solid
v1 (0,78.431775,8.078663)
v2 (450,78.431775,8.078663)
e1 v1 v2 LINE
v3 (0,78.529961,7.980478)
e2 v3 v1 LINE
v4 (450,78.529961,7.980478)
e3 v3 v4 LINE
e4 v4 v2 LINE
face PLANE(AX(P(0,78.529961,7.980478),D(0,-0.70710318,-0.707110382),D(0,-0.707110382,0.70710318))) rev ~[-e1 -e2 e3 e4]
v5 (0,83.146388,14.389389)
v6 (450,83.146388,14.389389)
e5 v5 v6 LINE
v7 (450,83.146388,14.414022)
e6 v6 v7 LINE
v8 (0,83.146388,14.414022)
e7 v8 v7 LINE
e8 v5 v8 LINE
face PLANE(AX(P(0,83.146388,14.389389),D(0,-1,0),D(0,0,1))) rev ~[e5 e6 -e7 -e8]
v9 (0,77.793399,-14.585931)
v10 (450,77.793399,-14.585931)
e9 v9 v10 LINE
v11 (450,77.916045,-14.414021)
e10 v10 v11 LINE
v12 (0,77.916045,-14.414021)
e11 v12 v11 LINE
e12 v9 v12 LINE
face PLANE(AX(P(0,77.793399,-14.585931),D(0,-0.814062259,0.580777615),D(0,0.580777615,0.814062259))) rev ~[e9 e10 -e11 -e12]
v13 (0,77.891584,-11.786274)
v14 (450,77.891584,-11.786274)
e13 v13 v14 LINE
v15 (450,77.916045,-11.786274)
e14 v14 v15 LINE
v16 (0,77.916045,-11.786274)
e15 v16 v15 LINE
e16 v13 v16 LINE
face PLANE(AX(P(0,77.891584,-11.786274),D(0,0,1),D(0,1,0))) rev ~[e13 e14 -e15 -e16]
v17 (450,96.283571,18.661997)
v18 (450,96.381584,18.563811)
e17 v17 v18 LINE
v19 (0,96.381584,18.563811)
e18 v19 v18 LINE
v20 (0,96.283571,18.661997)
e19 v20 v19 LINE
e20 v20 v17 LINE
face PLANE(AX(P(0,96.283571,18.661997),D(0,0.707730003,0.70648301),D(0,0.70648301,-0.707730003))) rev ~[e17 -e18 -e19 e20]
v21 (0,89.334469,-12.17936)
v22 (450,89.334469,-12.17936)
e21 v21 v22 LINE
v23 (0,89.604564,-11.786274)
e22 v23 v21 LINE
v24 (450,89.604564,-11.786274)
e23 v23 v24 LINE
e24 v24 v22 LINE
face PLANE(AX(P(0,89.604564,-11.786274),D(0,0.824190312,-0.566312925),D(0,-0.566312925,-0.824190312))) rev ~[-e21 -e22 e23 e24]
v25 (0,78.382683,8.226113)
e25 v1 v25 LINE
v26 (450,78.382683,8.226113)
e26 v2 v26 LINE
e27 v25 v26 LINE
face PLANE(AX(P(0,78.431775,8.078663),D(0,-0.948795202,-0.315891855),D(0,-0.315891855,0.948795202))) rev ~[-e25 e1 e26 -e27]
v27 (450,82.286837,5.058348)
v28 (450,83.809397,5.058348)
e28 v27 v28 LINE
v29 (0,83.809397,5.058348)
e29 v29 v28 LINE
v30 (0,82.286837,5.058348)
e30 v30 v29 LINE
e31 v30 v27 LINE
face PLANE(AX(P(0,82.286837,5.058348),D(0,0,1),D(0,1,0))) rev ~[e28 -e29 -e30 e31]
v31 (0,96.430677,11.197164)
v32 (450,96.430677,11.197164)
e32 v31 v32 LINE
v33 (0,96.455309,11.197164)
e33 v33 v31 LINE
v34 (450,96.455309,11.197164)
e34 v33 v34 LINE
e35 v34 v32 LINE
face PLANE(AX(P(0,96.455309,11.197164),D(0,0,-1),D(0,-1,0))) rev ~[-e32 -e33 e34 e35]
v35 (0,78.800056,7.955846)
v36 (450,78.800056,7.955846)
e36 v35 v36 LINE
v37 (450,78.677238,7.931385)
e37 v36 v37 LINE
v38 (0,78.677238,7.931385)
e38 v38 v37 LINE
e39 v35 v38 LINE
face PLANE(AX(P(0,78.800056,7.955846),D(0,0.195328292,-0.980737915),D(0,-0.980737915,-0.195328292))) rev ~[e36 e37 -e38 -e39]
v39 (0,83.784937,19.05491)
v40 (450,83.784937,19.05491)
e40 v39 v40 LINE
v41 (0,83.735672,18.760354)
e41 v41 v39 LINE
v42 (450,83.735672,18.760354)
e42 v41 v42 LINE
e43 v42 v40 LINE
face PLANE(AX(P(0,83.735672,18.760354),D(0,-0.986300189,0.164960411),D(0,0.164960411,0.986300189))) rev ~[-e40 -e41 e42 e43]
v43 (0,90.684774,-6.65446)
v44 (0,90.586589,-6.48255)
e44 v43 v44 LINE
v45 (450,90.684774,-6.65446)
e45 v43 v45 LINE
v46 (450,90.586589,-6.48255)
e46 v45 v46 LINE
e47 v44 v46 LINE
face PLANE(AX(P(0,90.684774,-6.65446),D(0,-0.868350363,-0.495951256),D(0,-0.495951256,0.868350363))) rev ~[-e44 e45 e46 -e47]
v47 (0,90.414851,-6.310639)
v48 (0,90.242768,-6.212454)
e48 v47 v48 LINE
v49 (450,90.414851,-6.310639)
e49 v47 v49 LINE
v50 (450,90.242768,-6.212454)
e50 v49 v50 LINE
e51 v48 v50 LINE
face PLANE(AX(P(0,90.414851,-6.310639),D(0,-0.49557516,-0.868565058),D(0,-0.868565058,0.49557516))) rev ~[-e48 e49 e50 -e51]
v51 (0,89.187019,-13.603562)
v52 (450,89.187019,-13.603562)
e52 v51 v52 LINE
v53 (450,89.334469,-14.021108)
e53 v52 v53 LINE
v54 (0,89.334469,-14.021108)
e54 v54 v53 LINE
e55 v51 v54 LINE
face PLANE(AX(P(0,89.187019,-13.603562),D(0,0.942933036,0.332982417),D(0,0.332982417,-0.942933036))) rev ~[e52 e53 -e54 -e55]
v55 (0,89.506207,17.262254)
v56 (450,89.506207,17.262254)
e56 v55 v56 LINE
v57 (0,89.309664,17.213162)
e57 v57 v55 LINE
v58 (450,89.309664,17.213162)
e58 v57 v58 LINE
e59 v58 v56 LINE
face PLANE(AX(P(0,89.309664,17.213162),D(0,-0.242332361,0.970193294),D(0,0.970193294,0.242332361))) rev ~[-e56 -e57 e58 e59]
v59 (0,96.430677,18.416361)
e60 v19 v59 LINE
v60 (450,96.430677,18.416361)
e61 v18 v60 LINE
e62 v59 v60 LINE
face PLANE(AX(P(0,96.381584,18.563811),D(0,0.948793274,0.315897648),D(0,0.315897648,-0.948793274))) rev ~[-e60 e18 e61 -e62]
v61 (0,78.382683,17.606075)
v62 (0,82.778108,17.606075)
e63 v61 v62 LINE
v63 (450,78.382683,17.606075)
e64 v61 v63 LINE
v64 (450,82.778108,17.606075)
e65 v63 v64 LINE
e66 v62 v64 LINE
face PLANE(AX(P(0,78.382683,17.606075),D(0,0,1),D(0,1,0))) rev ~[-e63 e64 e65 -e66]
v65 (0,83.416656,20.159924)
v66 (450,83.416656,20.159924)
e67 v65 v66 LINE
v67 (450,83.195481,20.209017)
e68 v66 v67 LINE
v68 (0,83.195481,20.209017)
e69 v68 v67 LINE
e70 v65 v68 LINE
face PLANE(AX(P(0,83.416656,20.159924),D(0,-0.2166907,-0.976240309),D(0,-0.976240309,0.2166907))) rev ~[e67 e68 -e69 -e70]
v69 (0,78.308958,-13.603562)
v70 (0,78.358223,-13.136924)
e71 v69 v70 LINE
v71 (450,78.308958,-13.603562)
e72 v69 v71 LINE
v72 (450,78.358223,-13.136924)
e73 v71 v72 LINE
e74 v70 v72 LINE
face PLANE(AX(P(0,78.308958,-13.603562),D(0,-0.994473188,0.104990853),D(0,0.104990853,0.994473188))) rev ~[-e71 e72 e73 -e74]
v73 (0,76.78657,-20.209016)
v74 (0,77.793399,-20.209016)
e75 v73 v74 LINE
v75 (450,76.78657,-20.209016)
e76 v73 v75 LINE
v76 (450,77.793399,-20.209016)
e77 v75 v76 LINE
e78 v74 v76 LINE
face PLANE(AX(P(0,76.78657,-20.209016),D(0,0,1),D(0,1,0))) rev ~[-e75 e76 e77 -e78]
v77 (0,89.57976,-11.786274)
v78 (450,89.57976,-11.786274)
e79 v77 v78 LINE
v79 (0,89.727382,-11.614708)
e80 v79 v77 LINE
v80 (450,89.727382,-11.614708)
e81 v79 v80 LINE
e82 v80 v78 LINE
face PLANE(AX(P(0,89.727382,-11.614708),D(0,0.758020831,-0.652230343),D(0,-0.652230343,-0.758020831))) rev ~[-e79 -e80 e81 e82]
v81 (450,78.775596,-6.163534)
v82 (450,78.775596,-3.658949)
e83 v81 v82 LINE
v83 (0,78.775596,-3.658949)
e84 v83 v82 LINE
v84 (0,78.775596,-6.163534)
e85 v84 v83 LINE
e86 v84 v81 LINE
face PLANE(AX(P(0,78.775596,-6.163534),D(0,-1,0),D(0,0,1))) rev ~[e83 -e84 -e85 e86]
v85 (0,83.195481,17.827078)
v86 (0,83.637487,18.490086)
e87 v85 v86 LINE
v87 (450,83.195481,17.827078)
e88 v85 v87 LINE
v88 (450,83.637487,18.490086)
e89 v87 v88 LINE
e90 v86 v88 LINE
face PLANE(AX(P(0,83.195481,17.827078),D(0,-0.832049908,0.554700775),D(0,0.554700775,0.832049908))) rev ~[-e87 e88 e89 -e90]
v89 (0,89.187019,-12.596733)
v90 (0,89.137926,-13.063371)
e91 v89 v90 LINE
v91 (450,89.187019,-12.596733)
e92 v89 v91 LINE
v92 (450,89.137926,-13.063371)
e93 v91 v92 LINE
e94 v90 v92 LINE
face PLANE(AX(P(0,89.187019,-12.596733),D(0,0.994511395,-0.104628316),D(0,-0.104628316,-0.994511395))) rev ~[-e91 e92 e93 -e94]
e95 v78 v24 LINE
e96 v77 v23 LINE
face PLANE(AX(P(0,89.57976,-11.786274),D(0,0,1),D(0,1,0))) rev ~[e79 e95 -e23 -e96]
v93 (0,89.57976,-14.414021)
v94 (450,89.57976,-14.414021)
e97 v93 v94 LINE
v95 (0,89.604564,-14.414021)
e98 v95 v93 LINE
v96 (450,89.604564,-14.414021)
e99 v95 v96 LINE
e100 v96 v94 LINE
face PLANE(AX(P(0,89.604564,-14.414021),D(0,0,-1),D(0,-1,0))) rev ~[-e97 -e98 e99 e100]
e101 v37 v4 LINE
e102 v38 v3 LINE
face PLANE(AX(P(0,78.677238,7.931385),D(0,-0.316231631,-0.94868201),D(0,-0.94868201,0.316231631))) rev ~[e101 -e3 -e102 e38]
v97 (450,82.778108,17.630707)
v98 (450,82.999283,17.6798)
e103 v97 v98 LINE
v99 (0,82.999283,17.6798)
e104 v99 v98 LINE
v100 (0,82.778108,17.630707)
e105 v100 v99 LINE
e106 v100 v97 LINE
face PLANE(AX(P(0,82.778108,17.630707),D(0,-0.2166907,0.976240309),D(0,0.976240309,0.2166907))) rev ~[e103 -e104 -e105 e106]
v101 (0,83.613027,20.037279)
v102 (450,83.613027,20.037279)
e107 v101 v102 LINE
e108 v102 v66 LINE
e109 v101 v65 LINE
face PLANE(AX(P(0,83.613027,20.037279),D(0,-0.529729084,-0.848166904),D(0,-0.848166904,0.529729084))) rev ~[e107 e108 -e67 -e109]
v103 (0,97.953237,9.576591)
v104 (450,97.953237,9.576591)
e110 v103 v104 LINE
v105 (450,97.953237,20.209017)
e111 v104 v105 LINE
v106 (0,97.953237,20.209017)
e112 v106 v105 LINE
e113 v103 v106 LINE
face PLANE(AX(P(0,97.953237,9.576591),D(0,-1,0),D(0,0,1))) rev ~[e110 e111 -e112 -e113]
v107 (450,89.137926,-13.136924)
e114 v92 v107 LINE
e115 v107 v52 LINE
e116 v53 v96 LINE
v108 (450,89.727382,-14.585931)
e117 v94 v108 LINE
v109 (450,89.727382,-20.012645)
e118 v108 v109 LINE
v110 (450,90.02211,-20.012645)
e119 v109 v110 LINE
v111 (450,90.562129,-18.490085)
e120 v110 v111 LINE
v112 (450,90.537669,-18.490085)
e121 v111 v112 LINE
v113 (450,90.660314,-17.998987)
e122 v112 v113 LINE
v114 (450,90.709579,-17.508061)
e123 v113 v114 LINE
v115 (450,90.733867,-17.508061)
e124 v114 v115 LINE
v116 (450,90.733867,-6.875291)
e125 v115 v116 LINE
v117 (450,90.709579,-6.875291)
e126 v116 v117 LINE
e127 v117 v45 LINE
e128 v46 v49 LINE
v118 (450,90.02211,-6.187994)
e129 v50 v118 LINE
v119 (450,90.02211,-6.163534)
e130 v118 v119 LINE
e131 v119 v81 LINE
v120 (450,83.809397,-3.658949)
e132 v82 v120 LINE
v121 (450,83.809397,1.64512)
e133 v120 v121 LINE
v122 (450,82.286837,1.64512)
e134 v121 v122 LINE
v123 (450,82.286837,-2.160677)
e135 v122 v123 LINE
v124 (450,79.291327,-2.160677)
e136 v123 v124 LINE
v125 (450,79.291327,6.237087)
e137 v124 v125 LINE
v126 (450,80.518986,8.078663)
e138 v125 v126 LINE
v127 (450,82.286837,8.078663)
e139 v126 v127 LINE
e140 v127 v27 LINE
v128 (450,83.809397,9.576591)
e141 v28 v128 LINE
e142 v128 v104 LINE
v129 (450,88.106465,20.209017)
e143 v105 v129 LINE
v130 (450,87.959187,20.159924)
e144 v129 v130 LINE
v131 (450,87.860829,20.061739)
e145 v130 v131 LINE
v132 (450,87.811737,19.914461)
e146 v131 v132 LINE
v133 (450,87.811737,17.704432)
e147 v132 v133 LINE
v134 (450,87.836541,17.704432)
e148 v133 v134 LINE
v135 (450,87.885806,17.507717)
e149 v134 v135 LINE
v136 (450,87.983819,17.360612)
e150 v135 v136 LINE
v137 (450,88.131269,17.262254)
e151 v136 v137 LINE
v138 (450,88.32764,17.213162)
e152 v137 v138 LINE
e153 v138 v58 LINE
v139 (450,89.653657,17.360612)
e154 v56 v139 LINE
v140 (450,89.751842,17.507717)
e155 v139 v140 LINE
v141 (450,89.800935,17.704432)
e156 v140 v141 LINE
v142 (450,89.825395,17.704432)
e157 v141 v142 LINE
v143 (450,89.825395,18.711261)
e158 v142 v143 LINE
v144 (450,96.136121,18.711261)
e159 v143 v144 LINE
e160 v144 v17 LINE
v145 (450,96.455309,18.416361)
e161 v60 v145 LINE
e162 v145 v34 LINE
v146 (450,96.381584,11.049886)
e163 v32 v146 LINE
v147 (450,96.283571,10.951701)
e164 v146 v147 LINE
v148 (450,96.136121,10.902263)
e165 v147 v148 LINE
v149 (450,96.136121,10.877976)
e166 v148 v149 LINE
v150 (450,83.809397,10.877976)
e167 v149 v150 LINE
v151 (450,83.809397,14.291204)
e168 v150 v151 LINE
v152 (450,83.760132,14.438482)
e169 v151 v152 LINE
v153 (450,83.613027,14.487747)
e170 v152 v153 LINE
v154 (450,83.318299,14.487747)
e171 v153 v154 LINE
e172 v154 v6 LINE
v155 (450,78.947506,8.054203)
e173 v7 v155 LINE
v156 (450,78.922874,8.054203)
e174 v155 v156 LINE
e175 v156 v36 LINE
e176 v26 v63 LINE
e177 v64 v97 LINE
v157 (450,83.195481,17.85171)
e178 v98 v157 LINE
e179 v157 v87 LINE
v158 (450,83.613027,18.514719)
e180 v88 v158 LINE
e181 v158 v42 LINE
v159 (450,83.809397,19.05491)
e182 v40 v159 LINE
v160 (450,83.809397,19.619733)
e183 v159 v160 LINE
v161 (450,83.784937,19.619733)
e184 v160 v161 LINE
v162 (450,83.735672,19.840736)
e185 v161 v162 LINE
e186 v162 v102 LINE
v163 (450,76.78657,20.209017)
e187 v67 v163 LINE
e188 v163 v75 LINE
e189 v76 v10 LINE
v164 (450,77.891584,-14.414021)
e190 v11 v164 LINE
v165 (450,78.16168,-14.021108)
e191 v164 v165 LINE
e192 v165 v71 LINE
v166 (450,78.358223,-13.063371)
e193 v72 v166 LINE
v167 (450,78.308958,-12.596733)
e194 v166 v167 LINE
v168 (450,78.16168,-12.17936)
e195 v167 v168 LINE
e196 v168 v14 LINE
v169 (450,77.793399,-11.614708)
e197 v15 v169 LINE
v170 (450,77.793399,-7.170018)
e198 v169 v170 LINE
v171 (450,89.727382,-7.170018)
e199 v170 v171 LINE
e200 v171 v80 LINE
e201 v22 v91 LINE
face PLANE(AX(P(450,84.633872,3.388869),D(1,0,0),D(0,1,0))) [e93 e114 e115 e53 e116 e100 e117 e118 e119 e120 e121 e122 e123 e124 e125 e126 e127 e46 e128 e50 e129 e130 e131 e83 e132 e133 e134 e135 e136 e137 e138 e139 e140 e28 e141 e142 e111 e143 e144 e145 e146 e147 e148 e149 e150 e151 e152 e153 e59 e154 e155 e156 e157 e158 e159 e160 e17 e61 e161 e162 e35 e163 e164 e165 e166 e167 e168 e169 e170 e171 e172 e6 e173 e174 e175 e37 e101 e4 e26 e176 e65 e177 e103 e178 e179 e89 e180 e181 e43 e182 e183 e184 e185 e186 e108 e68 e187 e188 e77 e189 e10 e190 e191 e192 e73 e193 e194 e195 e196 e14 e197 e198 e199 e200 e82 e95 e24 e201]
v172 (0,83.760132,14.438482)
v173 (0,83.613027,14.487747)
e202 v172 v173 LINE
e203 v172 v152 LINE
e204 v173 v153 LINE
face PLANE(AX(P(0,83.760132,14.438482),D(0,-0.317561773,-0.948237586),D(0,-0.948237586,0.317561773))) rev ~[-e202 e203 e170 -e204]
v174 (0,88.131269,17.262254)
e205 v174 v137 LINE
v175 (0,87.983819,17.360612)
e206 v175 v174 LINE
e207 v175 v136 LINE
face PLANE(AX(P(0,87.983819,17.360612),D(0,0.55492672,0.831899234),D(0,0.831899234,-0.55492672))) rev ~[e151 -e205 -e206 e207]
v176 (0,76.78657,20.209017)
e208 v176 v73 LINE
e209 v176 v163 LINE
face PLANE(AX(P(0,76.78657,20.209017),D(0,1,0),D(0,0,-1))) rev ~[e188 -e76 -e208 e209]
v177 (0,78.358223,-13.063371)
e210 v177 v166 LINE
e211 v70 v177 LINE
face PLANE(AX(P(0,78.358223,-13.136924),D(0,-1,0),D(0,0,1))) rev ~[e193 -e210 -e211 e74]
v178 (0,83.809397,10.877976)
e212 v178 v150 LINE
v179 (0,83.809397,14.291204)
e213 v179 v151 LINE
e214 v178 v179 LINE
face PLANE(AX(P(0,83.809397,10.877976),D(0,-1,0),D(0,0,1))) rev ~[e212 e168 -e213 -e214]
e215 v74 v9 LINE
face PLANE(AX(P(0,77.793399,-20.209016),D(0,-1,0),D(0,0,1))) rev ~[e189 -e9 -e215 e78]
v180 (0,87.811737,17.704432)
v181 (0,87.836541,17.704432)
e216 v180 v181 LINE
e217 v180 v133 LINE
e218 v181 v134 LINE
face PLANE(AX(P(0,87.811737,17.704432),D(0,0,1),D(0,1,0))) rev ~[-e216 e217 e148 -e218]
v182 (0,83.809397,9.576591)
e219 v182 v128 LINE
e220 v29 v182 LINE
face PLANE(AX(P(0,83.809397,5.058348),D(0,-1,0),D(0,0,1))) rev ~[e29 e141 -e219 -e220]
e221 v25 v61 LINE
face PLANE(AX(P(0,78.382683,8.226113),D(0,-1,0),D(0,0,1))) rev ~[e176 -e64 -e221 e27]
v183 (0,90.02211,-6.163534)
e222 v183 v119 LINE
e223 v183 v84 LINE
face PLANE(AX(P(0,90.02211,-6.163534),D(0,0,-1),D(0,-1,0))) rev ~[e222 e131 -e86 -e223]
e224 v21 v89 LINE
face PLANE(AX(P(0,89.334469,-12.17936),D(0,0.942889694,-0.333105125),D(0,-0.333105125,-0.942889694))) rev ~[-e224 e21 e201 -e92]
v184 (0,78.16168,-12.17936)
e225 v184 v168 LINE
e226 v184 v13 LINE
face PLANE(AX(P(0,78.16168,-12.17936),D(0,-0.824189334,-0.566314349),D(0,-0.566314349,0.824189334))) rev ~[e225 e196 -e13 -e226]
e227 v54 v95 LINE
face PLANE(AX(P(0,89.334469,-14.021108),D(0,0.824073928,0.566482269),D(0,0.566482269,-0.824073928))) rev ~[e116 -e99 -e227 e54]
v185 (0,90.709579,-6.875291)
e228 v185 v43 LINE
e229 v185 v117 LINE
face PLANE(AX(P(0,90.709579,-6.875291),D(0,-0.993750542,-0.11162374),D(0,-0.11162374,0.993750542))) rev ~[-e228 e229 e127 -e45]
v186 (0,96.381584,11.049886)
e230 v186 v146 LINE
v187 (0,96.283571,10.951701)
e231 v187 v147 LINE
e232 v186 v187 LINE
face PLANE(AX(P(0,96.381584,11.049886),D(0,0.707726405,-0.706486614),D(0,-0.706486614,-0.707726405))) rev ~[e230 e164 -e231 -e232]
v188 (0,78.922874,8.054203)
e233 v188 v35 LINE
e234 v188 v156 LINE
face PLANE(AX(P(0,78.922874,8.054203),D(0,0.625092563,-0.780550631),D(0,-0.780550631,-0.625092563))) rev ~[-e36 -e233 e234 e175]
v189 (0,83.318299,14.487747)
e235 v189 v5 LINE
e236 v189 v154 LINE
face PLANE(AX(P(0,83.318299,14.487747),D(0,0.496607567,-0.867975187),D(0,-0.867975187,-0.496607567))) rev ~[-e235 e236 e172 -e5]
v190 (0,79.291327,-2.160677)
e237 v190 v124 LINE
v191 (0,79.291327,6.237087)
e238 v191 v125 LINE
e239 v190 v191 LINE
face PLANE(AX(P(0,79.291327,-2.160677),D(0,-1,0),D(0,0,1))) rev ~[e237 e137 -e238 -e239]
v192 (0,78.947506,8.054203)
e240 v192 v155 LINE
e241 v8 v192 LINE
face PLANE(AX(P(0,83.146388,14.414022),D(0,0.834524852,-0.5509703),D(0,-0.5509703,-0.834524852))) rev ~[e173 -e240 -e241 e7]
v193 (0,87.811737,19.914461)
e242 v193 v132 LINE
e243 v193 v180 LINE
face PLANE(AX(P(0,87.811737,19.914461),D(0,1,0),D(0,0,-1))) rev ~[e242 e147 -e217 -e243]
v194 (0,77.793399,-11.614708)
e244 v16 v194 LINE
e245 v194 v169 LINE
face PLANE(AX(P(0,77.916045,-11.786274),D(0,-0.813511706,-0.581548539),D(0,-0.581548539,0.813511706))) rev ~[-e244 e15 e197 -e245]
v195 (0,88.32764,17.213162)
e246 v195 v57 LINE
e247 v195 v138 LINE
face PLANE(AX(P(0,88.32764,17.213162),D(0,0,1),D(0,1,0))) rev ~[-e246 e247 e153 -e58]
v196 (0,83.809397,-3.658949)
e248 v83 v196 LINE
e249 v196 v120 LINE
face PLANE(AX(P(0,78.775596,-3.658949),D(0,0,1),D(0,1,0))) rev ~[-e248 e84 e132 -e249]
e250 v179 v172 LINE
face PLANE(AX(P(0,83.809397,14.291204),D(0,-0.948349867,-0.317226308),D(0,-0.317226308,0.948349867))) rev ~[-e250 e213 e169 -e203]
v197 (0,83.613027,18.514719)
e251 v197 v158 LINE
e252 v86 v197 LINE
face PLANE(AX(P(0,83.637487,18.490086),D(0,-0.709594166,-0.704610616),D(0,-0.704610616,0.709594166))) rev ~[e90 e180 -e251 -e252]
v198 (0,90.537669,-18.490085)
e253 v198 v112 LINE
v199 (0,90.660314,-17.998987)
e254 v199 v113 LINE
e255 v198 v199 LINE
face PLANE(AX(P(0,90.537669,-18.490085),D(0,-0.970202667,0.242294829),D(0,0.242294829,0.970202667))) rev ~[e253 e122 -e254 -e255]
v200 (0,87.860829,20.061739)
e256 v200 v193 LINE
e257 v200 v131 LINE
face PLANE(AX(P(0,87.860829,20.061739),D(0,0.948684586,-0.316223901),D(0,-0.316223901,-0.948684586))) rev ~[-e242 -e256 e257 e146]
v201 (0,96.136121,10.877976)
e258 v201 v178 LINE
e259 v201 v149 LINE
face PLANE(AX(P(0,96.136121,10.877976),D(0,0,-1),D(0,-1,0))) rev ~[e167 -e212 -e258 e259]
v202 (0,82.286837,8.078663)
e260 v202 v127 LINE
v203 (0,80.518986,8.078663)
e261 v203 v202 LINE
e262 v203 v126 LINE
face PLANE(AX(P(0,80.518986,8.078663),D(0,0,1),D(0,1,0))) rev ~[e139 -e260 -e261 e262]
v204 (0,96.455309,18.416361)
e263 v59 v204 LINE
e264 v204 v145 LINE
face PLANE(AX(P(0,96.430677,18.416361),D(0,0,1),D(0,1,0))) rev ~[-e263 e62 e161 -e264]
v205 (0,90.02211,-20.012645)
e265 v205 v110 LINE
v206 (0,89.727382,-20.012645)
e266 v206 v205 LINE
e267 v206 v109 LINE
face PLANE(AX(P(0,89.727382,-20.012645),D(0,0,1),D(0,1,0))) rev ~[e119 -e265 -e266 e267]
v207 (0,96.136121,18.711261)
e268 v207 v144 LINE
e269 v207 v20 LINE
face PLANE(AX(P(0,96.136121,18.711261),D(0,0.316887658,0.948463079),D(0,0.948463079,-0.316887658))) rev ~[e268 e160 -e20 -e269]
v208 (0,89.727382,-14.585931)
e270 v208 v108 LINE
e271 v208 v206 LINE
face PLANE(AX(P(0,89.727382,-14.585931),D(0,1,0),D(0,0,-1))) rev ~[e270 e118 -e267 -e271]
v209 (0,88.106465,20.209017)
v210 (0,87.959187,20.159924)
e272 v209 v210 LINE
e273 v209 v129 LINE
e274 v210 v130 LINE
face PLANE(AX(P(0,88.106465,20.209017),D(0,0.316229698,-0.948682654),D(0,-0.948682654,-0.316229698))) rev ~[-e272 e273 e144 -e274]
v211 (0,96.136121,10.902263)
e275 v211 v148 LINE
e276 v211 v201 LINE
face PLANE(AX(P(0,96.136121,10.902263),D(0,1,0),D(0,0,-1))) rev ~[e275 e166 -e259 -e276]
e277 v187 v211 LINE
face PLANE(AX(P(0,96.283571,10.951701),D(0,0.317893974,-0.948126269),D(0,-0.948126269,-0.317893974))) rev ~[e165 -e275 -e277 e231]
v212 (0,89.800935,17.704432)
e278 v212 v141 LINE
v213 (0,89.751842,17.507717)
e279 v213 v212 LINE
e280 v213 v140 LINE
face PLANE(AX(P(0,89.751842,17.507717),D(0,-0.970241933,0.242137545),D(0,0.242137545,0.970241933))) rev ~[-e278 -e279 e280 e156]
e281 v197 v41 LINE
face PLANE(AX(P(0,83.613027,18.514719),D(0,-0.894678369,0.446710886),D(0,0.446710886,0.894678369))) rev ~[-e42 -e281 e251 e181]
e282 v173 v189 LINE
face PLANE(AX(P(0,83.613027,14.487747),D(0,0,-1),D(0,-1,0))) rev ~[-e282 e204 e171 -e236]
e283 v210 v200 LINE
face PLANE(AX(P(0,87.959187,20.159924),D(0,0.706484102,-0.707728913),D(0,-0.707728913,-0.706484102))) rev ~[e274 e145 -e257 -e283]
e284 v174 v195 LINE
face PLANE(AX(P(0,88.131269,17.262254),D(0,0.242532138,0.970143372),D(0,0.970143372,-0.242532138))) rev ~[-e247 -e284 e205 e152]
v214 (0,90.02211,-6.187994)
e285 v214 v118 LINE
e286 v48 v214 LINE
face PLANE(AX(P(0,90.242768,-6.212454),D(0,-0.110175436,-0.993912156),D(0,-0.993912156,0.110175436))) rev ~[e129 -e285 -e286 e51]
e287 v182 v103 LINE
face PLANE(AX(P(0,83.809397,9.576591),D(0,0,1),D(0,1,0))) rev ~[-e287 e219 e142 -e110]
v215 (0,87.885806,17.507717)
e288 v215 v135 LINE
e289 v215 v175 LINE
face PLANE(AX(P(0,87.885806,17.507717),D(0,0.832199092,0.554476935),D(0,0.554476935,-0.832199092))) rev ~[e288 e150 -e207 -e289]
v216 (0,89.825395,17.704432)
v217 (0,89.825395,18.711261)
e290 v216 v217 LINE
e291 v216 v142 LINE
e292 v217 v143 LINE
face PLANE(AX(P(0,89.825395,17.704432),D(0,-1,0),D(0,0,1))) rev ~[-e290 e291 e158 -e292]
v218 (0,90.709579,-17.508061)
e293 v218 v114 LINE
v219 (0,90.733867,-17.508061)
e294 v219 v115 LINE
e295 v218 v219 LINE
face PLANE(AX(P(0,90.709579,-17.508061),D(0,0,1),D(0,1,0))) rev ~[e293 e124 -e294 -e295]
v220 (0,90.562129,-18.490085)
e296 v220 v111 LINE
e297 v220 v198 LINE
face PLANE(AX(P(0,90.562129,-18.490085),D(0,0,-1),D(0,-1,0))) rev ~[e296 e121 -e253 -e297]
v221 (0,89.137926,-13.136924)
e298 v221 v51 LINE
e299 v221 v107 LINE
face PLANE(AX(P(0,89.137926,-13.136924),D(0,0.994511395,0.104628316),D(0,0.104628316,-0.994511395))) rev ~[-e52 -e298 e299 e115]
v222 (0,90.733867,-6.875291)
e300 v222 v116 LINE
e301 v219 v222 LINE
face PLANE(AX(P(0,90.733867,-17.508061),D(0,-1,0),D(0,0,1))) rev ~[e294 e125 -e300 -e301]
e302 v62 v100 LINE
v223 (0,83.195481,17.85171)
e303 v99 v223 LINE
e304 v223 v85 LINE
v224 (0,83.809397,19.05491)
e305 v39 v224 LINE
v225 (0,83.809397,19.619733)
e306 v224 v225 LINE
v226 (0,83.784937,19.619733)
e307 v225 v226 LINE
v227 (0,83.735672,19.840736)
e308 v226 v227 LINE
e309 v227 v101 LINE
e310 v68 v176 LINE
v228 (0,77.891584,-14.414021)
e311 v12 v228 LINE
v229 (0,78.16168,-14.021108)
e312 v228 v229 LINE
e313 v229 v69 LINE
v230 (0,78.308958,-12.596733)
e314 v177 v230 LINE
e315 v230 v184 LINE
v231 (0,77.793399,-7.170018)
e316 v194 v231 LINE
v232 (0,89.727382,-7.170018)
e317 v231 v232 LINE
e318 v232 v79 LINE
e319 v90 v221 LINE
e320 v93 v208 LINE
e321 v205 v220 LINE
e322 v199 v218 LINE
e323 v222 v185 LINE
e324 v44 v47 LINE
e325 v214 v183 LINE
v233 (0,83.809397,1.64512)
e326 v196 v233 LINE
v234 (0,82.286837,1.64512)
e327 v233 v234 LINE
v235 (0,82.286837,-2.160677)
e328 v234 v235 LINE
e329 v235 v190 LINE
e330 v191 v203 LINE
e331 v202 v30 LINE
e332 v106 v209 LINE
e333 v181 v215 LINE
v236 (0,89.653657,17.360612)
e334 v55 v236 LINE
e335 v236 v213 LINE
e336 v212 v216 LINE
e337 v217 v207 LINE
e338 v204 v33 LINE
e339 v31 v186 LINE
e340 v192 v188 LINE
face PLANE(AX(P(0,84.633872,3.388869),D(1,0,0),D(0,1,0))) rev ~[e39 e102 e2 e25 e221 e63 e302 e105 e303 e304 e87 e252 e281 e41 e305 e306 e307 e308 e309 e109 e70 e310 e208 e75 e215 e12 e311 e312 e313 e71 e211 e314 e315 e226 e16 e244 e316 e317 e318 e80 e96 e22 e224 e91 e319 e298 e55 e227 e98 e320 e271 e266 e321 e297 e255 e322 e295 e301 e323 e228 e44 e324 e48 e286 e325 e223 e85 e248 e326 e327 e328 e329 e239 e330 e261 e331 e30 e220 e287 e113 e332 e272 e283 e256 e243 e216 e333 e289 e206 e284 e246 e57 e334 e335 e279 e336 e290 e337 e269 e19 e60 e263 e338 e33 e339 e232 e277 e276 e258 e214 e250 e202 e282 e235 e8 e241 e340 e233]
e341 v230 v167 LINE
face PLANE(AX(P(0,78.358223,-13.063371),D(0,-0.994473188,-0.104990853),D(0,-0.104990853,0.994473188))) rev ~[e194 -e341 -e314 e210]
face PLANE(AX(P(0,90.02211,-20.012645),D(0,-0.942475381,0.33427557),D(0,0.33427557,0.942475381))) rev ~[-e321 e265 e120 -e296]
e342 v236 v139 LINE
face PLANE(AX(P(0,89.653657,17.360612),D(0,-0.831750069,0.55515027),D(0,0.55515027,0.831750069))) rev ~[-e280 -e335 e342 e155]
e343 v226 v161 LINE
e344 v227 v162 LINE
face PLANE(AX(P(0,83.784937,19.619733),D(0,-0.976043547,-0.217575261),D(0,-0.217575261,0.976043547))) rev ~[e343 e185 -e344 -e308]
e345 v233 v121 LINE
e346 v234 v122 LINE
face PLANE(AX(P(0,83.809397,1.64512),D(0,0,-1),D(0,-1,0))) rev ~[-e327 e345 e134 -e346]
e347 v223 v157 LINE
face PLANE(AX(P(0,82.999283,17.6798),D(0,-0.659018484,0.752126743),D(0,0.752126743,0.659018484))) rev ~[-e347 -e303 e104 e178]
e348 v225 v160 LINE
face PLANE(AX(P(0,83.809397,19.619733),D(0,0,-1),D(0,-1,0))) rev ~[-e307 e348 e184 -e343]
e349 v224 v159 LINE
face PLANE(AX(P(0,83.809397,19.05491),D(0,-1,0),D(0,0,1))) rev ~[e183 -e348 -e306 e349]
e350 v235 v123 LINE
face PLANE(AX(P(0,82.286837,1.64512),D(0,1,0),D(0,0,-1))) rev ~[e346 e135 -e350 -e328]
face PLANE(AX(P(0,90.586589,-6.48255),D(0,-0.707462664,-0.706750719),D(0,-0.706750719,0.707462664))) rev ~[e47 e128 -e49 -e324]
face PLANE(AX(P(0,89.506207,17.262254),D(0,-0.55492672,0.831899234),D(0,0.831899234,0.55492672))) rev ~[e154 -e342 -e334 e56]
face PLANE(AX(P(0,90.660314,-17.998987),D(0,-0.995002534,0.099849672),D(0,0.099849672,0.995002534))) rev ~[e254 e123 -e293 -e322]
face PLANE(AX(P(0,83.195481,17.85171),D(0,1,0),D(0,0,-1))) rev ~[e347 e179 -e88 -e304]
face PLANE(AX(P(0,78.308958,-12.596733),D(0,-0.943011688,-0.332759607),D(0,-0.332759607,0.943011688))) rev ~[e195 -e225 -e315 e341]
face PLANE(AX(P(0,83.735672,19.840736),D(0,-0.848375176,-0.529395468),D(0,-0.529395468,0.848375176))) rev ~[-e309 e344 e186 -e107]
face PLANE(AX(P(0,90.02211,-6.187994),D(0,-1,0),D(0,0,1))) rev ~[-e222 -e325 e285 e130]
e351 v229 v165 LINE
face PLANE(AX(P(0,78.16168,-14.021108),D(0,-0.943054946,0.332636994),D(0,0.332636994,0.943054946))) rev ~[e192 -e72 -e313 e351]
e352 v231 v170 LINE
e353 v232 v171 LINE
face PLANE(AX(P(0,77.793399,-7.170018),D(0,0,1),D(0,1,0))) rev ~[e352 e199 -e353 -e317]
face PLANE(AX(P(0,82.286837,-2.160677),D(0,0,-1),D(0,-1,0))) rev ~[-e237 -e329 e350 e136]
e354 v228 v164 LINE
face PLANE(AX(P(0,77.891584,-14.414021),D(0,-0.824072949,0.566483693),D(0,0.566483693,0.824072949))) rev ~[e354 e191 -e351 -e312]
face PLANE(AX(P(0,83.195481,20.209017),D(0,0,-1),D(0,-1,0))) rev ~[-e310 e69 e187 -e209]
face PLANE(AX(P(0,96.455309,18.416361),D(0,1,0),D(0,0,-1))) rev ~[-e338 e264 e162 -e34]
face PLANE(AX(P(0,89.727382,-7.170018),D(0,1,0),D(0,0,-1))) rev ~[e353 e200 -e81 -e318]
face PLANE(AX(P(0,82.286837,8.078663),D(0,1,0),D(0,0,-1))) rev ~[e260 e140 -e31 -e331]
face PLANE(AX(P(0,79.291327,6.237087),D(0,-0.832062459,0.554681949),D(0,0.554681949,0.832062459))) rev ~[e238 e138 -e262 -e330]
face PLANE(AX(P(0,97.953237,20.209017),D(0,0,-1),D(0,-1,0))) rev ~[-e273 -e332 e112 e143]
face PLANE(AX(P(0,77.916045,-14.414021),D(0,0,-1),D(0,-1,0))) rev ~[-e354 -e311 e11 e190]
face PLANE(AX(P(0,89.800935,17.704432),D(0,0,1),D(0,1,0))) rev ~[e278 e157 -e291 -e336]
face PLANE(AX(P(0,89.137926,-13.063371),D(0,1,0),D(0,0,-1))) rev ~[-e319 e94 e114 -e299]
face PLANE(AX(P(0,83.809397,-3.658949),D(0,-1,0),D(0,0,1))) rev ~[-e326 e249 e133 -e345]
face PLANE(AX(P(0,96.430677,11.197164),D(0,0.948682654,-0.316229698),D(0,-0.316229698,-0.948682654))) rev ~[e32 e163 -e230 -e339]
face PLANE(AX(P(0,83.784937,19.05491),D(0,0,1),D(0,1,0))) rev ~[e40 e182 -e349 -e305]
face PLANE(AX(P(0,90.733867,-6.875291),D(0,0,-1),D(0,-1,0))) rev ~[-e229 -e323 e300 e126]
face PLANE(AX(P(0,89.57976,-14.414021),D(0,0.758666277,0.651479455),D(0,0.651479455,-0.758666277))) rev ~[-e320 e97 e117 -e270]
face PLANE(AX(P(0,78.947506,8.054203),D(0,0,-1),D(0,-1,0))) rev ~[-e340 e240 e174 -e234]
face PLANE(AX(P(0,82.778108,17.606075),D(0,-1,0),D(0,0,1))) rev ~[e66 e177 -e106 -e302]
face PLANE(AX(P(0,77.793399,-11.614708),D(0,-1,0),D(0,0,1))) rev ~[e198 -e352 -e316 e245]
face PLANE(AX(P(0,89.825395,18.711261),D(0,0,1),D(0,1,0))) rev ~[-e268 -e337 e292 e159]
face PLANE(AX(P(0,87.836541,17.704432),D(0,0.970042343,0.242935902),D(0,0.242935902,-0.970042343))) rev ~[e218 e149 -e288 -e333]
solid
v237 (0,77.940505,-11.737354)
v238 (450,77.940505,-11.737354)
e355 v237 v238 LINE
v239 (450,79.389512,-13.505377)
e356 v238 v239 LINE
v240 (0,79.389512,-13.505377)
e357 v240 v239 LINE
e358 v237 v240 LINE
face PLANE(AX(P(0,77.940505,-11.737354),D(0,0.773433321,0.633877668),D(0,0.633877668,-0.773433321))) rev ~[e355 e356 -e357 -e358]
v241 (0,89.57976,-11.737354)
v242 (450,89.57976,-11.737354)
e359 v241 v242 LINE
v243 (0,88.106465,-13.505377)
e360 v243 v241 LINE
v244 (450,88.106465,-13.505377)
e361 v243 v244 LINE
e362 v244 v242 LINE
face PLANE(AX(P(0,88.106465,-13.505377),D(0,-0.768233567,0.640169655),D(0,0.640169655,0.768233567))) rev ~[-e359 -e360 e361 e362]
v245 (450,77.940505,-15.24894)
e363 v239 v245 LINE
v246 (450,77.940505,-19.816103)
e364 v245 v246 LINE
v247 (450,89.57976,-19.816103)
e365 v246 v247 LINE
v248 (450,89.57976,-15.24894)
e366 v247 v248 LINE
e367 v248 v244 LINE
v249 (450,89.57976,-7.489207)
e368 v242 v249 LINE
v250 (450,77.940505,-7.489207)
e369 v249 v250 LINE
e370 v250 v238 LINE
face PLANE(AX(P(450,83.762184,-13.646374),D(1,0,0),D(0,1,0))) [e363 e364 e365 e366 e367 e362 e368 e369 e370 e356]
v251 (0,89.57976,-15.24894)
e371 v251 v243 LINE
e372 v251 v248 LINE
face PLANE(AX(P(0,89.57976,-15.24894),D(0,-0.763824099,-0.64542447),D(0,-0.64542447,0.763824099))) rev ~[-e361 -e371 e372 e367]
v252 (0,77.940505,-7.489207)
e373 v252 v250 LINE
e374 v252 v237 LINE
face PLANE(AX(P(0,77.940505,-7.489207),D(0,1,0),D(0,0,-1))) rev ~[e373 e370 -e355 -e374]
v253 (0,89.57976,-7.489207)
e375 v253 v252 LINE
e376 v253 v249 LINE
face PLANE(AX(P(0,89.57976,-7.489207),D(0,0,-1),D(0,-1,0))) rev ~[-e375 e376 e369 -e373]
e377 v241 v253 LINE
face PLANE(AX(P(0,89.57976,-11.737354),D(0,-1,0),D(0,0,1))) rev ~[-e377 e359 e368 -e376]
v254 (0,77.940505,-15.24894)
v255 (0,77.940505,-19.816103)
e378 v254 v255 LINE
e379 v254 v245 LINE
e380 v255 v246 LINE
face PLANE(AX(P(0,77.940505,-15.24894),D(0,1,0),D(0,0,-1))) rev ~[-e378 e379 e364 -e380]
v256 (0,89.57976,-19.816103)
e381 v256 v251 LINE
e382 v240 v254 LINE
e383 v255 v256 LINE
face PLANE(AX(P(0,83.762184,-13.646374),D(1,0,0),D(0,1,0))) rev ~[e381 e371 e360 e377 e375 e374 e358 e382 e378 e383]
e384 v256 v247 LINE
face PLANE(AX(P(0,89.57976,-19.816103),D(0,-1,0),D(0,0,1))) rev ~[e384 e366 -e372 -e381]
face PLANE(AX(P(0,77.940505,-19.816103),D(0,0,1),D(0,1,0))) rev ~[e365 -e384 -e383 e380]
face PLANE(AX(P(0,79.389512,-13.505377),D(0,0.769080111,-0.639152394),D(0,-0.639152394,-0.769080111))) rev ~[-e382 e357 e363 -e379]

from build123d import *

# Parameters (mm, degrees)
F1_DEPTH = 450


with BuildPart() as f1:
    # F0 (on Right) → F1 (new body)
    with BuildSketch(Plane.YZ):
        Polygon((97.953237, 9.576591), (97.953237, 20.209017), (88.106465, 20.209017), (87.959187, 20.159924), (87.860829, 20.061739), (87.811737, 19.914461), (87.811737, 17.704432), (87.836541, 17.704432), (87.885806, 17.507717), (87.983819, 17.360612), (88.131269, 17.262254), (88.32764, 17.213162), (89.309664, 17.213162), (89.506207, 17.262254), (89.653657, 17.360612), (89.751842, 17.507717), (89.800935, 17.704432), (89.825395, 17.704432), (89.825395, 18.711261), (96.136121, 18.711261), (96.283571, 18.661997), (96.381584, 18.563811), (96.430677, 18.416361), (96.455309, 18.416361), (96.455309, 11.197164), (96.430677, 11.197164), (96.381584, 11.049886), (96.283571, 10.951701), (96.136121, 10.902263), (96.136121, 10.877976), (83.809397, 10.877976), (83.809397, 14.291204), (83.760132, 14.438482), (83.613027, 14.487747), (83.318299, 14.487747), (83.146388, 14.389389), (83.146388, 14.414022), (78.947506, 8.054203), (78.922874, 8.054203), (78.800056, 7.955846), (78.677238, 7.931385), (78.529961, 7.980478), (78.431775, 8.078663), (78.382683, 8.226113), (78.382683, 17.606075), (82.778108, 17.606075), (82.778108, 17.630707), (82.999283, 17.6798), (83.195481, 17.85171), (83.195481, 17.827078), (83.637487, 18.490086), (83.613027, 18.514719), (83.735672, 18.760354), (83.784937, 19.05491), (83.809397, 19.05491), (83.809397, 19.619733), (83.784937, 19.619733), (83.735672, 19.840736), (83.613027, 20.037279), (83.416656, 20.159924), (83.195481, 20.209017), (76.78657, 20.209017), (76.78657, -20.209016), (77.793399, -20.209016), (77.793399, -14.585931), (77.916045, -14.414021), (77.891584, -14.414021), (78.16168, -14.021108), (78.308958, -13.603562), (78.358223, -13.136924), (78.358223, -13.063371), (78.308958, -12.596733), (78.16168, -12.17936), (77.891584, -11.786274), (77.916045, -11.786274), (77.793399, -11.614708), (77.793399, -7.170018), (89.727382, -7.170018), (89.727382, -11.614708), (89.57976, -11.786274), (89.604564, -11.786274), (89.334469, -12.17936), (89.187019, -12.596733), (89.137926, -13.063371), (89.137926, -13.136924), (89.187019, -13.603562), (89.334469, -14.021108), (89.604564, -14.414021), (89.57976, -14.414021), (89.727382, -14.585931), (89.727382, -20.012645), (90.02211, -20.012645), (90.562129, -18.490085), (90.537669, -18.490085), (90.660314, -17.998987), (90.709579, -17.508061), (90.733867, -17.508061), (90.733867, -6.875291), (90.709579, -6.875291), (90.684774, -6.65446), (90.586589, -6.48255), (90.414851, -6.310639), (90.242768, -6.212454), (90.02211, -6.187994), (90.02211, -6.163534), (78.775596, -6.163534), (78.775596, -3.658949), (83.809397, -3.658949), (83.809397, 1.64512), (82.286837, 1.64512), (82.286837, -2.160677), (79.291327, -2.160677), (79.291327, 6.237087), (80.518986, 8.078663), (81.402912, 8.078663), (82.286837, 8.078663), (82.286837, 5.058348), (83.809397, 5.058348), (83.809397, 9.576591), align=None)
        Polygon((77.940505, -7.489207), (77.940505, -11.737354), (79.389512, -13.505377), (77.940505, -15.24894), (77.940505, -19.816103), (89.57976, -19.816103), (89.57976, -15.24894), (88.106465, -13.505377), (89.57976, -11.737354), (89.57976, -7.489207), align=None)
    extrude(amount=F1_DEPTH)


solid = f1.part
